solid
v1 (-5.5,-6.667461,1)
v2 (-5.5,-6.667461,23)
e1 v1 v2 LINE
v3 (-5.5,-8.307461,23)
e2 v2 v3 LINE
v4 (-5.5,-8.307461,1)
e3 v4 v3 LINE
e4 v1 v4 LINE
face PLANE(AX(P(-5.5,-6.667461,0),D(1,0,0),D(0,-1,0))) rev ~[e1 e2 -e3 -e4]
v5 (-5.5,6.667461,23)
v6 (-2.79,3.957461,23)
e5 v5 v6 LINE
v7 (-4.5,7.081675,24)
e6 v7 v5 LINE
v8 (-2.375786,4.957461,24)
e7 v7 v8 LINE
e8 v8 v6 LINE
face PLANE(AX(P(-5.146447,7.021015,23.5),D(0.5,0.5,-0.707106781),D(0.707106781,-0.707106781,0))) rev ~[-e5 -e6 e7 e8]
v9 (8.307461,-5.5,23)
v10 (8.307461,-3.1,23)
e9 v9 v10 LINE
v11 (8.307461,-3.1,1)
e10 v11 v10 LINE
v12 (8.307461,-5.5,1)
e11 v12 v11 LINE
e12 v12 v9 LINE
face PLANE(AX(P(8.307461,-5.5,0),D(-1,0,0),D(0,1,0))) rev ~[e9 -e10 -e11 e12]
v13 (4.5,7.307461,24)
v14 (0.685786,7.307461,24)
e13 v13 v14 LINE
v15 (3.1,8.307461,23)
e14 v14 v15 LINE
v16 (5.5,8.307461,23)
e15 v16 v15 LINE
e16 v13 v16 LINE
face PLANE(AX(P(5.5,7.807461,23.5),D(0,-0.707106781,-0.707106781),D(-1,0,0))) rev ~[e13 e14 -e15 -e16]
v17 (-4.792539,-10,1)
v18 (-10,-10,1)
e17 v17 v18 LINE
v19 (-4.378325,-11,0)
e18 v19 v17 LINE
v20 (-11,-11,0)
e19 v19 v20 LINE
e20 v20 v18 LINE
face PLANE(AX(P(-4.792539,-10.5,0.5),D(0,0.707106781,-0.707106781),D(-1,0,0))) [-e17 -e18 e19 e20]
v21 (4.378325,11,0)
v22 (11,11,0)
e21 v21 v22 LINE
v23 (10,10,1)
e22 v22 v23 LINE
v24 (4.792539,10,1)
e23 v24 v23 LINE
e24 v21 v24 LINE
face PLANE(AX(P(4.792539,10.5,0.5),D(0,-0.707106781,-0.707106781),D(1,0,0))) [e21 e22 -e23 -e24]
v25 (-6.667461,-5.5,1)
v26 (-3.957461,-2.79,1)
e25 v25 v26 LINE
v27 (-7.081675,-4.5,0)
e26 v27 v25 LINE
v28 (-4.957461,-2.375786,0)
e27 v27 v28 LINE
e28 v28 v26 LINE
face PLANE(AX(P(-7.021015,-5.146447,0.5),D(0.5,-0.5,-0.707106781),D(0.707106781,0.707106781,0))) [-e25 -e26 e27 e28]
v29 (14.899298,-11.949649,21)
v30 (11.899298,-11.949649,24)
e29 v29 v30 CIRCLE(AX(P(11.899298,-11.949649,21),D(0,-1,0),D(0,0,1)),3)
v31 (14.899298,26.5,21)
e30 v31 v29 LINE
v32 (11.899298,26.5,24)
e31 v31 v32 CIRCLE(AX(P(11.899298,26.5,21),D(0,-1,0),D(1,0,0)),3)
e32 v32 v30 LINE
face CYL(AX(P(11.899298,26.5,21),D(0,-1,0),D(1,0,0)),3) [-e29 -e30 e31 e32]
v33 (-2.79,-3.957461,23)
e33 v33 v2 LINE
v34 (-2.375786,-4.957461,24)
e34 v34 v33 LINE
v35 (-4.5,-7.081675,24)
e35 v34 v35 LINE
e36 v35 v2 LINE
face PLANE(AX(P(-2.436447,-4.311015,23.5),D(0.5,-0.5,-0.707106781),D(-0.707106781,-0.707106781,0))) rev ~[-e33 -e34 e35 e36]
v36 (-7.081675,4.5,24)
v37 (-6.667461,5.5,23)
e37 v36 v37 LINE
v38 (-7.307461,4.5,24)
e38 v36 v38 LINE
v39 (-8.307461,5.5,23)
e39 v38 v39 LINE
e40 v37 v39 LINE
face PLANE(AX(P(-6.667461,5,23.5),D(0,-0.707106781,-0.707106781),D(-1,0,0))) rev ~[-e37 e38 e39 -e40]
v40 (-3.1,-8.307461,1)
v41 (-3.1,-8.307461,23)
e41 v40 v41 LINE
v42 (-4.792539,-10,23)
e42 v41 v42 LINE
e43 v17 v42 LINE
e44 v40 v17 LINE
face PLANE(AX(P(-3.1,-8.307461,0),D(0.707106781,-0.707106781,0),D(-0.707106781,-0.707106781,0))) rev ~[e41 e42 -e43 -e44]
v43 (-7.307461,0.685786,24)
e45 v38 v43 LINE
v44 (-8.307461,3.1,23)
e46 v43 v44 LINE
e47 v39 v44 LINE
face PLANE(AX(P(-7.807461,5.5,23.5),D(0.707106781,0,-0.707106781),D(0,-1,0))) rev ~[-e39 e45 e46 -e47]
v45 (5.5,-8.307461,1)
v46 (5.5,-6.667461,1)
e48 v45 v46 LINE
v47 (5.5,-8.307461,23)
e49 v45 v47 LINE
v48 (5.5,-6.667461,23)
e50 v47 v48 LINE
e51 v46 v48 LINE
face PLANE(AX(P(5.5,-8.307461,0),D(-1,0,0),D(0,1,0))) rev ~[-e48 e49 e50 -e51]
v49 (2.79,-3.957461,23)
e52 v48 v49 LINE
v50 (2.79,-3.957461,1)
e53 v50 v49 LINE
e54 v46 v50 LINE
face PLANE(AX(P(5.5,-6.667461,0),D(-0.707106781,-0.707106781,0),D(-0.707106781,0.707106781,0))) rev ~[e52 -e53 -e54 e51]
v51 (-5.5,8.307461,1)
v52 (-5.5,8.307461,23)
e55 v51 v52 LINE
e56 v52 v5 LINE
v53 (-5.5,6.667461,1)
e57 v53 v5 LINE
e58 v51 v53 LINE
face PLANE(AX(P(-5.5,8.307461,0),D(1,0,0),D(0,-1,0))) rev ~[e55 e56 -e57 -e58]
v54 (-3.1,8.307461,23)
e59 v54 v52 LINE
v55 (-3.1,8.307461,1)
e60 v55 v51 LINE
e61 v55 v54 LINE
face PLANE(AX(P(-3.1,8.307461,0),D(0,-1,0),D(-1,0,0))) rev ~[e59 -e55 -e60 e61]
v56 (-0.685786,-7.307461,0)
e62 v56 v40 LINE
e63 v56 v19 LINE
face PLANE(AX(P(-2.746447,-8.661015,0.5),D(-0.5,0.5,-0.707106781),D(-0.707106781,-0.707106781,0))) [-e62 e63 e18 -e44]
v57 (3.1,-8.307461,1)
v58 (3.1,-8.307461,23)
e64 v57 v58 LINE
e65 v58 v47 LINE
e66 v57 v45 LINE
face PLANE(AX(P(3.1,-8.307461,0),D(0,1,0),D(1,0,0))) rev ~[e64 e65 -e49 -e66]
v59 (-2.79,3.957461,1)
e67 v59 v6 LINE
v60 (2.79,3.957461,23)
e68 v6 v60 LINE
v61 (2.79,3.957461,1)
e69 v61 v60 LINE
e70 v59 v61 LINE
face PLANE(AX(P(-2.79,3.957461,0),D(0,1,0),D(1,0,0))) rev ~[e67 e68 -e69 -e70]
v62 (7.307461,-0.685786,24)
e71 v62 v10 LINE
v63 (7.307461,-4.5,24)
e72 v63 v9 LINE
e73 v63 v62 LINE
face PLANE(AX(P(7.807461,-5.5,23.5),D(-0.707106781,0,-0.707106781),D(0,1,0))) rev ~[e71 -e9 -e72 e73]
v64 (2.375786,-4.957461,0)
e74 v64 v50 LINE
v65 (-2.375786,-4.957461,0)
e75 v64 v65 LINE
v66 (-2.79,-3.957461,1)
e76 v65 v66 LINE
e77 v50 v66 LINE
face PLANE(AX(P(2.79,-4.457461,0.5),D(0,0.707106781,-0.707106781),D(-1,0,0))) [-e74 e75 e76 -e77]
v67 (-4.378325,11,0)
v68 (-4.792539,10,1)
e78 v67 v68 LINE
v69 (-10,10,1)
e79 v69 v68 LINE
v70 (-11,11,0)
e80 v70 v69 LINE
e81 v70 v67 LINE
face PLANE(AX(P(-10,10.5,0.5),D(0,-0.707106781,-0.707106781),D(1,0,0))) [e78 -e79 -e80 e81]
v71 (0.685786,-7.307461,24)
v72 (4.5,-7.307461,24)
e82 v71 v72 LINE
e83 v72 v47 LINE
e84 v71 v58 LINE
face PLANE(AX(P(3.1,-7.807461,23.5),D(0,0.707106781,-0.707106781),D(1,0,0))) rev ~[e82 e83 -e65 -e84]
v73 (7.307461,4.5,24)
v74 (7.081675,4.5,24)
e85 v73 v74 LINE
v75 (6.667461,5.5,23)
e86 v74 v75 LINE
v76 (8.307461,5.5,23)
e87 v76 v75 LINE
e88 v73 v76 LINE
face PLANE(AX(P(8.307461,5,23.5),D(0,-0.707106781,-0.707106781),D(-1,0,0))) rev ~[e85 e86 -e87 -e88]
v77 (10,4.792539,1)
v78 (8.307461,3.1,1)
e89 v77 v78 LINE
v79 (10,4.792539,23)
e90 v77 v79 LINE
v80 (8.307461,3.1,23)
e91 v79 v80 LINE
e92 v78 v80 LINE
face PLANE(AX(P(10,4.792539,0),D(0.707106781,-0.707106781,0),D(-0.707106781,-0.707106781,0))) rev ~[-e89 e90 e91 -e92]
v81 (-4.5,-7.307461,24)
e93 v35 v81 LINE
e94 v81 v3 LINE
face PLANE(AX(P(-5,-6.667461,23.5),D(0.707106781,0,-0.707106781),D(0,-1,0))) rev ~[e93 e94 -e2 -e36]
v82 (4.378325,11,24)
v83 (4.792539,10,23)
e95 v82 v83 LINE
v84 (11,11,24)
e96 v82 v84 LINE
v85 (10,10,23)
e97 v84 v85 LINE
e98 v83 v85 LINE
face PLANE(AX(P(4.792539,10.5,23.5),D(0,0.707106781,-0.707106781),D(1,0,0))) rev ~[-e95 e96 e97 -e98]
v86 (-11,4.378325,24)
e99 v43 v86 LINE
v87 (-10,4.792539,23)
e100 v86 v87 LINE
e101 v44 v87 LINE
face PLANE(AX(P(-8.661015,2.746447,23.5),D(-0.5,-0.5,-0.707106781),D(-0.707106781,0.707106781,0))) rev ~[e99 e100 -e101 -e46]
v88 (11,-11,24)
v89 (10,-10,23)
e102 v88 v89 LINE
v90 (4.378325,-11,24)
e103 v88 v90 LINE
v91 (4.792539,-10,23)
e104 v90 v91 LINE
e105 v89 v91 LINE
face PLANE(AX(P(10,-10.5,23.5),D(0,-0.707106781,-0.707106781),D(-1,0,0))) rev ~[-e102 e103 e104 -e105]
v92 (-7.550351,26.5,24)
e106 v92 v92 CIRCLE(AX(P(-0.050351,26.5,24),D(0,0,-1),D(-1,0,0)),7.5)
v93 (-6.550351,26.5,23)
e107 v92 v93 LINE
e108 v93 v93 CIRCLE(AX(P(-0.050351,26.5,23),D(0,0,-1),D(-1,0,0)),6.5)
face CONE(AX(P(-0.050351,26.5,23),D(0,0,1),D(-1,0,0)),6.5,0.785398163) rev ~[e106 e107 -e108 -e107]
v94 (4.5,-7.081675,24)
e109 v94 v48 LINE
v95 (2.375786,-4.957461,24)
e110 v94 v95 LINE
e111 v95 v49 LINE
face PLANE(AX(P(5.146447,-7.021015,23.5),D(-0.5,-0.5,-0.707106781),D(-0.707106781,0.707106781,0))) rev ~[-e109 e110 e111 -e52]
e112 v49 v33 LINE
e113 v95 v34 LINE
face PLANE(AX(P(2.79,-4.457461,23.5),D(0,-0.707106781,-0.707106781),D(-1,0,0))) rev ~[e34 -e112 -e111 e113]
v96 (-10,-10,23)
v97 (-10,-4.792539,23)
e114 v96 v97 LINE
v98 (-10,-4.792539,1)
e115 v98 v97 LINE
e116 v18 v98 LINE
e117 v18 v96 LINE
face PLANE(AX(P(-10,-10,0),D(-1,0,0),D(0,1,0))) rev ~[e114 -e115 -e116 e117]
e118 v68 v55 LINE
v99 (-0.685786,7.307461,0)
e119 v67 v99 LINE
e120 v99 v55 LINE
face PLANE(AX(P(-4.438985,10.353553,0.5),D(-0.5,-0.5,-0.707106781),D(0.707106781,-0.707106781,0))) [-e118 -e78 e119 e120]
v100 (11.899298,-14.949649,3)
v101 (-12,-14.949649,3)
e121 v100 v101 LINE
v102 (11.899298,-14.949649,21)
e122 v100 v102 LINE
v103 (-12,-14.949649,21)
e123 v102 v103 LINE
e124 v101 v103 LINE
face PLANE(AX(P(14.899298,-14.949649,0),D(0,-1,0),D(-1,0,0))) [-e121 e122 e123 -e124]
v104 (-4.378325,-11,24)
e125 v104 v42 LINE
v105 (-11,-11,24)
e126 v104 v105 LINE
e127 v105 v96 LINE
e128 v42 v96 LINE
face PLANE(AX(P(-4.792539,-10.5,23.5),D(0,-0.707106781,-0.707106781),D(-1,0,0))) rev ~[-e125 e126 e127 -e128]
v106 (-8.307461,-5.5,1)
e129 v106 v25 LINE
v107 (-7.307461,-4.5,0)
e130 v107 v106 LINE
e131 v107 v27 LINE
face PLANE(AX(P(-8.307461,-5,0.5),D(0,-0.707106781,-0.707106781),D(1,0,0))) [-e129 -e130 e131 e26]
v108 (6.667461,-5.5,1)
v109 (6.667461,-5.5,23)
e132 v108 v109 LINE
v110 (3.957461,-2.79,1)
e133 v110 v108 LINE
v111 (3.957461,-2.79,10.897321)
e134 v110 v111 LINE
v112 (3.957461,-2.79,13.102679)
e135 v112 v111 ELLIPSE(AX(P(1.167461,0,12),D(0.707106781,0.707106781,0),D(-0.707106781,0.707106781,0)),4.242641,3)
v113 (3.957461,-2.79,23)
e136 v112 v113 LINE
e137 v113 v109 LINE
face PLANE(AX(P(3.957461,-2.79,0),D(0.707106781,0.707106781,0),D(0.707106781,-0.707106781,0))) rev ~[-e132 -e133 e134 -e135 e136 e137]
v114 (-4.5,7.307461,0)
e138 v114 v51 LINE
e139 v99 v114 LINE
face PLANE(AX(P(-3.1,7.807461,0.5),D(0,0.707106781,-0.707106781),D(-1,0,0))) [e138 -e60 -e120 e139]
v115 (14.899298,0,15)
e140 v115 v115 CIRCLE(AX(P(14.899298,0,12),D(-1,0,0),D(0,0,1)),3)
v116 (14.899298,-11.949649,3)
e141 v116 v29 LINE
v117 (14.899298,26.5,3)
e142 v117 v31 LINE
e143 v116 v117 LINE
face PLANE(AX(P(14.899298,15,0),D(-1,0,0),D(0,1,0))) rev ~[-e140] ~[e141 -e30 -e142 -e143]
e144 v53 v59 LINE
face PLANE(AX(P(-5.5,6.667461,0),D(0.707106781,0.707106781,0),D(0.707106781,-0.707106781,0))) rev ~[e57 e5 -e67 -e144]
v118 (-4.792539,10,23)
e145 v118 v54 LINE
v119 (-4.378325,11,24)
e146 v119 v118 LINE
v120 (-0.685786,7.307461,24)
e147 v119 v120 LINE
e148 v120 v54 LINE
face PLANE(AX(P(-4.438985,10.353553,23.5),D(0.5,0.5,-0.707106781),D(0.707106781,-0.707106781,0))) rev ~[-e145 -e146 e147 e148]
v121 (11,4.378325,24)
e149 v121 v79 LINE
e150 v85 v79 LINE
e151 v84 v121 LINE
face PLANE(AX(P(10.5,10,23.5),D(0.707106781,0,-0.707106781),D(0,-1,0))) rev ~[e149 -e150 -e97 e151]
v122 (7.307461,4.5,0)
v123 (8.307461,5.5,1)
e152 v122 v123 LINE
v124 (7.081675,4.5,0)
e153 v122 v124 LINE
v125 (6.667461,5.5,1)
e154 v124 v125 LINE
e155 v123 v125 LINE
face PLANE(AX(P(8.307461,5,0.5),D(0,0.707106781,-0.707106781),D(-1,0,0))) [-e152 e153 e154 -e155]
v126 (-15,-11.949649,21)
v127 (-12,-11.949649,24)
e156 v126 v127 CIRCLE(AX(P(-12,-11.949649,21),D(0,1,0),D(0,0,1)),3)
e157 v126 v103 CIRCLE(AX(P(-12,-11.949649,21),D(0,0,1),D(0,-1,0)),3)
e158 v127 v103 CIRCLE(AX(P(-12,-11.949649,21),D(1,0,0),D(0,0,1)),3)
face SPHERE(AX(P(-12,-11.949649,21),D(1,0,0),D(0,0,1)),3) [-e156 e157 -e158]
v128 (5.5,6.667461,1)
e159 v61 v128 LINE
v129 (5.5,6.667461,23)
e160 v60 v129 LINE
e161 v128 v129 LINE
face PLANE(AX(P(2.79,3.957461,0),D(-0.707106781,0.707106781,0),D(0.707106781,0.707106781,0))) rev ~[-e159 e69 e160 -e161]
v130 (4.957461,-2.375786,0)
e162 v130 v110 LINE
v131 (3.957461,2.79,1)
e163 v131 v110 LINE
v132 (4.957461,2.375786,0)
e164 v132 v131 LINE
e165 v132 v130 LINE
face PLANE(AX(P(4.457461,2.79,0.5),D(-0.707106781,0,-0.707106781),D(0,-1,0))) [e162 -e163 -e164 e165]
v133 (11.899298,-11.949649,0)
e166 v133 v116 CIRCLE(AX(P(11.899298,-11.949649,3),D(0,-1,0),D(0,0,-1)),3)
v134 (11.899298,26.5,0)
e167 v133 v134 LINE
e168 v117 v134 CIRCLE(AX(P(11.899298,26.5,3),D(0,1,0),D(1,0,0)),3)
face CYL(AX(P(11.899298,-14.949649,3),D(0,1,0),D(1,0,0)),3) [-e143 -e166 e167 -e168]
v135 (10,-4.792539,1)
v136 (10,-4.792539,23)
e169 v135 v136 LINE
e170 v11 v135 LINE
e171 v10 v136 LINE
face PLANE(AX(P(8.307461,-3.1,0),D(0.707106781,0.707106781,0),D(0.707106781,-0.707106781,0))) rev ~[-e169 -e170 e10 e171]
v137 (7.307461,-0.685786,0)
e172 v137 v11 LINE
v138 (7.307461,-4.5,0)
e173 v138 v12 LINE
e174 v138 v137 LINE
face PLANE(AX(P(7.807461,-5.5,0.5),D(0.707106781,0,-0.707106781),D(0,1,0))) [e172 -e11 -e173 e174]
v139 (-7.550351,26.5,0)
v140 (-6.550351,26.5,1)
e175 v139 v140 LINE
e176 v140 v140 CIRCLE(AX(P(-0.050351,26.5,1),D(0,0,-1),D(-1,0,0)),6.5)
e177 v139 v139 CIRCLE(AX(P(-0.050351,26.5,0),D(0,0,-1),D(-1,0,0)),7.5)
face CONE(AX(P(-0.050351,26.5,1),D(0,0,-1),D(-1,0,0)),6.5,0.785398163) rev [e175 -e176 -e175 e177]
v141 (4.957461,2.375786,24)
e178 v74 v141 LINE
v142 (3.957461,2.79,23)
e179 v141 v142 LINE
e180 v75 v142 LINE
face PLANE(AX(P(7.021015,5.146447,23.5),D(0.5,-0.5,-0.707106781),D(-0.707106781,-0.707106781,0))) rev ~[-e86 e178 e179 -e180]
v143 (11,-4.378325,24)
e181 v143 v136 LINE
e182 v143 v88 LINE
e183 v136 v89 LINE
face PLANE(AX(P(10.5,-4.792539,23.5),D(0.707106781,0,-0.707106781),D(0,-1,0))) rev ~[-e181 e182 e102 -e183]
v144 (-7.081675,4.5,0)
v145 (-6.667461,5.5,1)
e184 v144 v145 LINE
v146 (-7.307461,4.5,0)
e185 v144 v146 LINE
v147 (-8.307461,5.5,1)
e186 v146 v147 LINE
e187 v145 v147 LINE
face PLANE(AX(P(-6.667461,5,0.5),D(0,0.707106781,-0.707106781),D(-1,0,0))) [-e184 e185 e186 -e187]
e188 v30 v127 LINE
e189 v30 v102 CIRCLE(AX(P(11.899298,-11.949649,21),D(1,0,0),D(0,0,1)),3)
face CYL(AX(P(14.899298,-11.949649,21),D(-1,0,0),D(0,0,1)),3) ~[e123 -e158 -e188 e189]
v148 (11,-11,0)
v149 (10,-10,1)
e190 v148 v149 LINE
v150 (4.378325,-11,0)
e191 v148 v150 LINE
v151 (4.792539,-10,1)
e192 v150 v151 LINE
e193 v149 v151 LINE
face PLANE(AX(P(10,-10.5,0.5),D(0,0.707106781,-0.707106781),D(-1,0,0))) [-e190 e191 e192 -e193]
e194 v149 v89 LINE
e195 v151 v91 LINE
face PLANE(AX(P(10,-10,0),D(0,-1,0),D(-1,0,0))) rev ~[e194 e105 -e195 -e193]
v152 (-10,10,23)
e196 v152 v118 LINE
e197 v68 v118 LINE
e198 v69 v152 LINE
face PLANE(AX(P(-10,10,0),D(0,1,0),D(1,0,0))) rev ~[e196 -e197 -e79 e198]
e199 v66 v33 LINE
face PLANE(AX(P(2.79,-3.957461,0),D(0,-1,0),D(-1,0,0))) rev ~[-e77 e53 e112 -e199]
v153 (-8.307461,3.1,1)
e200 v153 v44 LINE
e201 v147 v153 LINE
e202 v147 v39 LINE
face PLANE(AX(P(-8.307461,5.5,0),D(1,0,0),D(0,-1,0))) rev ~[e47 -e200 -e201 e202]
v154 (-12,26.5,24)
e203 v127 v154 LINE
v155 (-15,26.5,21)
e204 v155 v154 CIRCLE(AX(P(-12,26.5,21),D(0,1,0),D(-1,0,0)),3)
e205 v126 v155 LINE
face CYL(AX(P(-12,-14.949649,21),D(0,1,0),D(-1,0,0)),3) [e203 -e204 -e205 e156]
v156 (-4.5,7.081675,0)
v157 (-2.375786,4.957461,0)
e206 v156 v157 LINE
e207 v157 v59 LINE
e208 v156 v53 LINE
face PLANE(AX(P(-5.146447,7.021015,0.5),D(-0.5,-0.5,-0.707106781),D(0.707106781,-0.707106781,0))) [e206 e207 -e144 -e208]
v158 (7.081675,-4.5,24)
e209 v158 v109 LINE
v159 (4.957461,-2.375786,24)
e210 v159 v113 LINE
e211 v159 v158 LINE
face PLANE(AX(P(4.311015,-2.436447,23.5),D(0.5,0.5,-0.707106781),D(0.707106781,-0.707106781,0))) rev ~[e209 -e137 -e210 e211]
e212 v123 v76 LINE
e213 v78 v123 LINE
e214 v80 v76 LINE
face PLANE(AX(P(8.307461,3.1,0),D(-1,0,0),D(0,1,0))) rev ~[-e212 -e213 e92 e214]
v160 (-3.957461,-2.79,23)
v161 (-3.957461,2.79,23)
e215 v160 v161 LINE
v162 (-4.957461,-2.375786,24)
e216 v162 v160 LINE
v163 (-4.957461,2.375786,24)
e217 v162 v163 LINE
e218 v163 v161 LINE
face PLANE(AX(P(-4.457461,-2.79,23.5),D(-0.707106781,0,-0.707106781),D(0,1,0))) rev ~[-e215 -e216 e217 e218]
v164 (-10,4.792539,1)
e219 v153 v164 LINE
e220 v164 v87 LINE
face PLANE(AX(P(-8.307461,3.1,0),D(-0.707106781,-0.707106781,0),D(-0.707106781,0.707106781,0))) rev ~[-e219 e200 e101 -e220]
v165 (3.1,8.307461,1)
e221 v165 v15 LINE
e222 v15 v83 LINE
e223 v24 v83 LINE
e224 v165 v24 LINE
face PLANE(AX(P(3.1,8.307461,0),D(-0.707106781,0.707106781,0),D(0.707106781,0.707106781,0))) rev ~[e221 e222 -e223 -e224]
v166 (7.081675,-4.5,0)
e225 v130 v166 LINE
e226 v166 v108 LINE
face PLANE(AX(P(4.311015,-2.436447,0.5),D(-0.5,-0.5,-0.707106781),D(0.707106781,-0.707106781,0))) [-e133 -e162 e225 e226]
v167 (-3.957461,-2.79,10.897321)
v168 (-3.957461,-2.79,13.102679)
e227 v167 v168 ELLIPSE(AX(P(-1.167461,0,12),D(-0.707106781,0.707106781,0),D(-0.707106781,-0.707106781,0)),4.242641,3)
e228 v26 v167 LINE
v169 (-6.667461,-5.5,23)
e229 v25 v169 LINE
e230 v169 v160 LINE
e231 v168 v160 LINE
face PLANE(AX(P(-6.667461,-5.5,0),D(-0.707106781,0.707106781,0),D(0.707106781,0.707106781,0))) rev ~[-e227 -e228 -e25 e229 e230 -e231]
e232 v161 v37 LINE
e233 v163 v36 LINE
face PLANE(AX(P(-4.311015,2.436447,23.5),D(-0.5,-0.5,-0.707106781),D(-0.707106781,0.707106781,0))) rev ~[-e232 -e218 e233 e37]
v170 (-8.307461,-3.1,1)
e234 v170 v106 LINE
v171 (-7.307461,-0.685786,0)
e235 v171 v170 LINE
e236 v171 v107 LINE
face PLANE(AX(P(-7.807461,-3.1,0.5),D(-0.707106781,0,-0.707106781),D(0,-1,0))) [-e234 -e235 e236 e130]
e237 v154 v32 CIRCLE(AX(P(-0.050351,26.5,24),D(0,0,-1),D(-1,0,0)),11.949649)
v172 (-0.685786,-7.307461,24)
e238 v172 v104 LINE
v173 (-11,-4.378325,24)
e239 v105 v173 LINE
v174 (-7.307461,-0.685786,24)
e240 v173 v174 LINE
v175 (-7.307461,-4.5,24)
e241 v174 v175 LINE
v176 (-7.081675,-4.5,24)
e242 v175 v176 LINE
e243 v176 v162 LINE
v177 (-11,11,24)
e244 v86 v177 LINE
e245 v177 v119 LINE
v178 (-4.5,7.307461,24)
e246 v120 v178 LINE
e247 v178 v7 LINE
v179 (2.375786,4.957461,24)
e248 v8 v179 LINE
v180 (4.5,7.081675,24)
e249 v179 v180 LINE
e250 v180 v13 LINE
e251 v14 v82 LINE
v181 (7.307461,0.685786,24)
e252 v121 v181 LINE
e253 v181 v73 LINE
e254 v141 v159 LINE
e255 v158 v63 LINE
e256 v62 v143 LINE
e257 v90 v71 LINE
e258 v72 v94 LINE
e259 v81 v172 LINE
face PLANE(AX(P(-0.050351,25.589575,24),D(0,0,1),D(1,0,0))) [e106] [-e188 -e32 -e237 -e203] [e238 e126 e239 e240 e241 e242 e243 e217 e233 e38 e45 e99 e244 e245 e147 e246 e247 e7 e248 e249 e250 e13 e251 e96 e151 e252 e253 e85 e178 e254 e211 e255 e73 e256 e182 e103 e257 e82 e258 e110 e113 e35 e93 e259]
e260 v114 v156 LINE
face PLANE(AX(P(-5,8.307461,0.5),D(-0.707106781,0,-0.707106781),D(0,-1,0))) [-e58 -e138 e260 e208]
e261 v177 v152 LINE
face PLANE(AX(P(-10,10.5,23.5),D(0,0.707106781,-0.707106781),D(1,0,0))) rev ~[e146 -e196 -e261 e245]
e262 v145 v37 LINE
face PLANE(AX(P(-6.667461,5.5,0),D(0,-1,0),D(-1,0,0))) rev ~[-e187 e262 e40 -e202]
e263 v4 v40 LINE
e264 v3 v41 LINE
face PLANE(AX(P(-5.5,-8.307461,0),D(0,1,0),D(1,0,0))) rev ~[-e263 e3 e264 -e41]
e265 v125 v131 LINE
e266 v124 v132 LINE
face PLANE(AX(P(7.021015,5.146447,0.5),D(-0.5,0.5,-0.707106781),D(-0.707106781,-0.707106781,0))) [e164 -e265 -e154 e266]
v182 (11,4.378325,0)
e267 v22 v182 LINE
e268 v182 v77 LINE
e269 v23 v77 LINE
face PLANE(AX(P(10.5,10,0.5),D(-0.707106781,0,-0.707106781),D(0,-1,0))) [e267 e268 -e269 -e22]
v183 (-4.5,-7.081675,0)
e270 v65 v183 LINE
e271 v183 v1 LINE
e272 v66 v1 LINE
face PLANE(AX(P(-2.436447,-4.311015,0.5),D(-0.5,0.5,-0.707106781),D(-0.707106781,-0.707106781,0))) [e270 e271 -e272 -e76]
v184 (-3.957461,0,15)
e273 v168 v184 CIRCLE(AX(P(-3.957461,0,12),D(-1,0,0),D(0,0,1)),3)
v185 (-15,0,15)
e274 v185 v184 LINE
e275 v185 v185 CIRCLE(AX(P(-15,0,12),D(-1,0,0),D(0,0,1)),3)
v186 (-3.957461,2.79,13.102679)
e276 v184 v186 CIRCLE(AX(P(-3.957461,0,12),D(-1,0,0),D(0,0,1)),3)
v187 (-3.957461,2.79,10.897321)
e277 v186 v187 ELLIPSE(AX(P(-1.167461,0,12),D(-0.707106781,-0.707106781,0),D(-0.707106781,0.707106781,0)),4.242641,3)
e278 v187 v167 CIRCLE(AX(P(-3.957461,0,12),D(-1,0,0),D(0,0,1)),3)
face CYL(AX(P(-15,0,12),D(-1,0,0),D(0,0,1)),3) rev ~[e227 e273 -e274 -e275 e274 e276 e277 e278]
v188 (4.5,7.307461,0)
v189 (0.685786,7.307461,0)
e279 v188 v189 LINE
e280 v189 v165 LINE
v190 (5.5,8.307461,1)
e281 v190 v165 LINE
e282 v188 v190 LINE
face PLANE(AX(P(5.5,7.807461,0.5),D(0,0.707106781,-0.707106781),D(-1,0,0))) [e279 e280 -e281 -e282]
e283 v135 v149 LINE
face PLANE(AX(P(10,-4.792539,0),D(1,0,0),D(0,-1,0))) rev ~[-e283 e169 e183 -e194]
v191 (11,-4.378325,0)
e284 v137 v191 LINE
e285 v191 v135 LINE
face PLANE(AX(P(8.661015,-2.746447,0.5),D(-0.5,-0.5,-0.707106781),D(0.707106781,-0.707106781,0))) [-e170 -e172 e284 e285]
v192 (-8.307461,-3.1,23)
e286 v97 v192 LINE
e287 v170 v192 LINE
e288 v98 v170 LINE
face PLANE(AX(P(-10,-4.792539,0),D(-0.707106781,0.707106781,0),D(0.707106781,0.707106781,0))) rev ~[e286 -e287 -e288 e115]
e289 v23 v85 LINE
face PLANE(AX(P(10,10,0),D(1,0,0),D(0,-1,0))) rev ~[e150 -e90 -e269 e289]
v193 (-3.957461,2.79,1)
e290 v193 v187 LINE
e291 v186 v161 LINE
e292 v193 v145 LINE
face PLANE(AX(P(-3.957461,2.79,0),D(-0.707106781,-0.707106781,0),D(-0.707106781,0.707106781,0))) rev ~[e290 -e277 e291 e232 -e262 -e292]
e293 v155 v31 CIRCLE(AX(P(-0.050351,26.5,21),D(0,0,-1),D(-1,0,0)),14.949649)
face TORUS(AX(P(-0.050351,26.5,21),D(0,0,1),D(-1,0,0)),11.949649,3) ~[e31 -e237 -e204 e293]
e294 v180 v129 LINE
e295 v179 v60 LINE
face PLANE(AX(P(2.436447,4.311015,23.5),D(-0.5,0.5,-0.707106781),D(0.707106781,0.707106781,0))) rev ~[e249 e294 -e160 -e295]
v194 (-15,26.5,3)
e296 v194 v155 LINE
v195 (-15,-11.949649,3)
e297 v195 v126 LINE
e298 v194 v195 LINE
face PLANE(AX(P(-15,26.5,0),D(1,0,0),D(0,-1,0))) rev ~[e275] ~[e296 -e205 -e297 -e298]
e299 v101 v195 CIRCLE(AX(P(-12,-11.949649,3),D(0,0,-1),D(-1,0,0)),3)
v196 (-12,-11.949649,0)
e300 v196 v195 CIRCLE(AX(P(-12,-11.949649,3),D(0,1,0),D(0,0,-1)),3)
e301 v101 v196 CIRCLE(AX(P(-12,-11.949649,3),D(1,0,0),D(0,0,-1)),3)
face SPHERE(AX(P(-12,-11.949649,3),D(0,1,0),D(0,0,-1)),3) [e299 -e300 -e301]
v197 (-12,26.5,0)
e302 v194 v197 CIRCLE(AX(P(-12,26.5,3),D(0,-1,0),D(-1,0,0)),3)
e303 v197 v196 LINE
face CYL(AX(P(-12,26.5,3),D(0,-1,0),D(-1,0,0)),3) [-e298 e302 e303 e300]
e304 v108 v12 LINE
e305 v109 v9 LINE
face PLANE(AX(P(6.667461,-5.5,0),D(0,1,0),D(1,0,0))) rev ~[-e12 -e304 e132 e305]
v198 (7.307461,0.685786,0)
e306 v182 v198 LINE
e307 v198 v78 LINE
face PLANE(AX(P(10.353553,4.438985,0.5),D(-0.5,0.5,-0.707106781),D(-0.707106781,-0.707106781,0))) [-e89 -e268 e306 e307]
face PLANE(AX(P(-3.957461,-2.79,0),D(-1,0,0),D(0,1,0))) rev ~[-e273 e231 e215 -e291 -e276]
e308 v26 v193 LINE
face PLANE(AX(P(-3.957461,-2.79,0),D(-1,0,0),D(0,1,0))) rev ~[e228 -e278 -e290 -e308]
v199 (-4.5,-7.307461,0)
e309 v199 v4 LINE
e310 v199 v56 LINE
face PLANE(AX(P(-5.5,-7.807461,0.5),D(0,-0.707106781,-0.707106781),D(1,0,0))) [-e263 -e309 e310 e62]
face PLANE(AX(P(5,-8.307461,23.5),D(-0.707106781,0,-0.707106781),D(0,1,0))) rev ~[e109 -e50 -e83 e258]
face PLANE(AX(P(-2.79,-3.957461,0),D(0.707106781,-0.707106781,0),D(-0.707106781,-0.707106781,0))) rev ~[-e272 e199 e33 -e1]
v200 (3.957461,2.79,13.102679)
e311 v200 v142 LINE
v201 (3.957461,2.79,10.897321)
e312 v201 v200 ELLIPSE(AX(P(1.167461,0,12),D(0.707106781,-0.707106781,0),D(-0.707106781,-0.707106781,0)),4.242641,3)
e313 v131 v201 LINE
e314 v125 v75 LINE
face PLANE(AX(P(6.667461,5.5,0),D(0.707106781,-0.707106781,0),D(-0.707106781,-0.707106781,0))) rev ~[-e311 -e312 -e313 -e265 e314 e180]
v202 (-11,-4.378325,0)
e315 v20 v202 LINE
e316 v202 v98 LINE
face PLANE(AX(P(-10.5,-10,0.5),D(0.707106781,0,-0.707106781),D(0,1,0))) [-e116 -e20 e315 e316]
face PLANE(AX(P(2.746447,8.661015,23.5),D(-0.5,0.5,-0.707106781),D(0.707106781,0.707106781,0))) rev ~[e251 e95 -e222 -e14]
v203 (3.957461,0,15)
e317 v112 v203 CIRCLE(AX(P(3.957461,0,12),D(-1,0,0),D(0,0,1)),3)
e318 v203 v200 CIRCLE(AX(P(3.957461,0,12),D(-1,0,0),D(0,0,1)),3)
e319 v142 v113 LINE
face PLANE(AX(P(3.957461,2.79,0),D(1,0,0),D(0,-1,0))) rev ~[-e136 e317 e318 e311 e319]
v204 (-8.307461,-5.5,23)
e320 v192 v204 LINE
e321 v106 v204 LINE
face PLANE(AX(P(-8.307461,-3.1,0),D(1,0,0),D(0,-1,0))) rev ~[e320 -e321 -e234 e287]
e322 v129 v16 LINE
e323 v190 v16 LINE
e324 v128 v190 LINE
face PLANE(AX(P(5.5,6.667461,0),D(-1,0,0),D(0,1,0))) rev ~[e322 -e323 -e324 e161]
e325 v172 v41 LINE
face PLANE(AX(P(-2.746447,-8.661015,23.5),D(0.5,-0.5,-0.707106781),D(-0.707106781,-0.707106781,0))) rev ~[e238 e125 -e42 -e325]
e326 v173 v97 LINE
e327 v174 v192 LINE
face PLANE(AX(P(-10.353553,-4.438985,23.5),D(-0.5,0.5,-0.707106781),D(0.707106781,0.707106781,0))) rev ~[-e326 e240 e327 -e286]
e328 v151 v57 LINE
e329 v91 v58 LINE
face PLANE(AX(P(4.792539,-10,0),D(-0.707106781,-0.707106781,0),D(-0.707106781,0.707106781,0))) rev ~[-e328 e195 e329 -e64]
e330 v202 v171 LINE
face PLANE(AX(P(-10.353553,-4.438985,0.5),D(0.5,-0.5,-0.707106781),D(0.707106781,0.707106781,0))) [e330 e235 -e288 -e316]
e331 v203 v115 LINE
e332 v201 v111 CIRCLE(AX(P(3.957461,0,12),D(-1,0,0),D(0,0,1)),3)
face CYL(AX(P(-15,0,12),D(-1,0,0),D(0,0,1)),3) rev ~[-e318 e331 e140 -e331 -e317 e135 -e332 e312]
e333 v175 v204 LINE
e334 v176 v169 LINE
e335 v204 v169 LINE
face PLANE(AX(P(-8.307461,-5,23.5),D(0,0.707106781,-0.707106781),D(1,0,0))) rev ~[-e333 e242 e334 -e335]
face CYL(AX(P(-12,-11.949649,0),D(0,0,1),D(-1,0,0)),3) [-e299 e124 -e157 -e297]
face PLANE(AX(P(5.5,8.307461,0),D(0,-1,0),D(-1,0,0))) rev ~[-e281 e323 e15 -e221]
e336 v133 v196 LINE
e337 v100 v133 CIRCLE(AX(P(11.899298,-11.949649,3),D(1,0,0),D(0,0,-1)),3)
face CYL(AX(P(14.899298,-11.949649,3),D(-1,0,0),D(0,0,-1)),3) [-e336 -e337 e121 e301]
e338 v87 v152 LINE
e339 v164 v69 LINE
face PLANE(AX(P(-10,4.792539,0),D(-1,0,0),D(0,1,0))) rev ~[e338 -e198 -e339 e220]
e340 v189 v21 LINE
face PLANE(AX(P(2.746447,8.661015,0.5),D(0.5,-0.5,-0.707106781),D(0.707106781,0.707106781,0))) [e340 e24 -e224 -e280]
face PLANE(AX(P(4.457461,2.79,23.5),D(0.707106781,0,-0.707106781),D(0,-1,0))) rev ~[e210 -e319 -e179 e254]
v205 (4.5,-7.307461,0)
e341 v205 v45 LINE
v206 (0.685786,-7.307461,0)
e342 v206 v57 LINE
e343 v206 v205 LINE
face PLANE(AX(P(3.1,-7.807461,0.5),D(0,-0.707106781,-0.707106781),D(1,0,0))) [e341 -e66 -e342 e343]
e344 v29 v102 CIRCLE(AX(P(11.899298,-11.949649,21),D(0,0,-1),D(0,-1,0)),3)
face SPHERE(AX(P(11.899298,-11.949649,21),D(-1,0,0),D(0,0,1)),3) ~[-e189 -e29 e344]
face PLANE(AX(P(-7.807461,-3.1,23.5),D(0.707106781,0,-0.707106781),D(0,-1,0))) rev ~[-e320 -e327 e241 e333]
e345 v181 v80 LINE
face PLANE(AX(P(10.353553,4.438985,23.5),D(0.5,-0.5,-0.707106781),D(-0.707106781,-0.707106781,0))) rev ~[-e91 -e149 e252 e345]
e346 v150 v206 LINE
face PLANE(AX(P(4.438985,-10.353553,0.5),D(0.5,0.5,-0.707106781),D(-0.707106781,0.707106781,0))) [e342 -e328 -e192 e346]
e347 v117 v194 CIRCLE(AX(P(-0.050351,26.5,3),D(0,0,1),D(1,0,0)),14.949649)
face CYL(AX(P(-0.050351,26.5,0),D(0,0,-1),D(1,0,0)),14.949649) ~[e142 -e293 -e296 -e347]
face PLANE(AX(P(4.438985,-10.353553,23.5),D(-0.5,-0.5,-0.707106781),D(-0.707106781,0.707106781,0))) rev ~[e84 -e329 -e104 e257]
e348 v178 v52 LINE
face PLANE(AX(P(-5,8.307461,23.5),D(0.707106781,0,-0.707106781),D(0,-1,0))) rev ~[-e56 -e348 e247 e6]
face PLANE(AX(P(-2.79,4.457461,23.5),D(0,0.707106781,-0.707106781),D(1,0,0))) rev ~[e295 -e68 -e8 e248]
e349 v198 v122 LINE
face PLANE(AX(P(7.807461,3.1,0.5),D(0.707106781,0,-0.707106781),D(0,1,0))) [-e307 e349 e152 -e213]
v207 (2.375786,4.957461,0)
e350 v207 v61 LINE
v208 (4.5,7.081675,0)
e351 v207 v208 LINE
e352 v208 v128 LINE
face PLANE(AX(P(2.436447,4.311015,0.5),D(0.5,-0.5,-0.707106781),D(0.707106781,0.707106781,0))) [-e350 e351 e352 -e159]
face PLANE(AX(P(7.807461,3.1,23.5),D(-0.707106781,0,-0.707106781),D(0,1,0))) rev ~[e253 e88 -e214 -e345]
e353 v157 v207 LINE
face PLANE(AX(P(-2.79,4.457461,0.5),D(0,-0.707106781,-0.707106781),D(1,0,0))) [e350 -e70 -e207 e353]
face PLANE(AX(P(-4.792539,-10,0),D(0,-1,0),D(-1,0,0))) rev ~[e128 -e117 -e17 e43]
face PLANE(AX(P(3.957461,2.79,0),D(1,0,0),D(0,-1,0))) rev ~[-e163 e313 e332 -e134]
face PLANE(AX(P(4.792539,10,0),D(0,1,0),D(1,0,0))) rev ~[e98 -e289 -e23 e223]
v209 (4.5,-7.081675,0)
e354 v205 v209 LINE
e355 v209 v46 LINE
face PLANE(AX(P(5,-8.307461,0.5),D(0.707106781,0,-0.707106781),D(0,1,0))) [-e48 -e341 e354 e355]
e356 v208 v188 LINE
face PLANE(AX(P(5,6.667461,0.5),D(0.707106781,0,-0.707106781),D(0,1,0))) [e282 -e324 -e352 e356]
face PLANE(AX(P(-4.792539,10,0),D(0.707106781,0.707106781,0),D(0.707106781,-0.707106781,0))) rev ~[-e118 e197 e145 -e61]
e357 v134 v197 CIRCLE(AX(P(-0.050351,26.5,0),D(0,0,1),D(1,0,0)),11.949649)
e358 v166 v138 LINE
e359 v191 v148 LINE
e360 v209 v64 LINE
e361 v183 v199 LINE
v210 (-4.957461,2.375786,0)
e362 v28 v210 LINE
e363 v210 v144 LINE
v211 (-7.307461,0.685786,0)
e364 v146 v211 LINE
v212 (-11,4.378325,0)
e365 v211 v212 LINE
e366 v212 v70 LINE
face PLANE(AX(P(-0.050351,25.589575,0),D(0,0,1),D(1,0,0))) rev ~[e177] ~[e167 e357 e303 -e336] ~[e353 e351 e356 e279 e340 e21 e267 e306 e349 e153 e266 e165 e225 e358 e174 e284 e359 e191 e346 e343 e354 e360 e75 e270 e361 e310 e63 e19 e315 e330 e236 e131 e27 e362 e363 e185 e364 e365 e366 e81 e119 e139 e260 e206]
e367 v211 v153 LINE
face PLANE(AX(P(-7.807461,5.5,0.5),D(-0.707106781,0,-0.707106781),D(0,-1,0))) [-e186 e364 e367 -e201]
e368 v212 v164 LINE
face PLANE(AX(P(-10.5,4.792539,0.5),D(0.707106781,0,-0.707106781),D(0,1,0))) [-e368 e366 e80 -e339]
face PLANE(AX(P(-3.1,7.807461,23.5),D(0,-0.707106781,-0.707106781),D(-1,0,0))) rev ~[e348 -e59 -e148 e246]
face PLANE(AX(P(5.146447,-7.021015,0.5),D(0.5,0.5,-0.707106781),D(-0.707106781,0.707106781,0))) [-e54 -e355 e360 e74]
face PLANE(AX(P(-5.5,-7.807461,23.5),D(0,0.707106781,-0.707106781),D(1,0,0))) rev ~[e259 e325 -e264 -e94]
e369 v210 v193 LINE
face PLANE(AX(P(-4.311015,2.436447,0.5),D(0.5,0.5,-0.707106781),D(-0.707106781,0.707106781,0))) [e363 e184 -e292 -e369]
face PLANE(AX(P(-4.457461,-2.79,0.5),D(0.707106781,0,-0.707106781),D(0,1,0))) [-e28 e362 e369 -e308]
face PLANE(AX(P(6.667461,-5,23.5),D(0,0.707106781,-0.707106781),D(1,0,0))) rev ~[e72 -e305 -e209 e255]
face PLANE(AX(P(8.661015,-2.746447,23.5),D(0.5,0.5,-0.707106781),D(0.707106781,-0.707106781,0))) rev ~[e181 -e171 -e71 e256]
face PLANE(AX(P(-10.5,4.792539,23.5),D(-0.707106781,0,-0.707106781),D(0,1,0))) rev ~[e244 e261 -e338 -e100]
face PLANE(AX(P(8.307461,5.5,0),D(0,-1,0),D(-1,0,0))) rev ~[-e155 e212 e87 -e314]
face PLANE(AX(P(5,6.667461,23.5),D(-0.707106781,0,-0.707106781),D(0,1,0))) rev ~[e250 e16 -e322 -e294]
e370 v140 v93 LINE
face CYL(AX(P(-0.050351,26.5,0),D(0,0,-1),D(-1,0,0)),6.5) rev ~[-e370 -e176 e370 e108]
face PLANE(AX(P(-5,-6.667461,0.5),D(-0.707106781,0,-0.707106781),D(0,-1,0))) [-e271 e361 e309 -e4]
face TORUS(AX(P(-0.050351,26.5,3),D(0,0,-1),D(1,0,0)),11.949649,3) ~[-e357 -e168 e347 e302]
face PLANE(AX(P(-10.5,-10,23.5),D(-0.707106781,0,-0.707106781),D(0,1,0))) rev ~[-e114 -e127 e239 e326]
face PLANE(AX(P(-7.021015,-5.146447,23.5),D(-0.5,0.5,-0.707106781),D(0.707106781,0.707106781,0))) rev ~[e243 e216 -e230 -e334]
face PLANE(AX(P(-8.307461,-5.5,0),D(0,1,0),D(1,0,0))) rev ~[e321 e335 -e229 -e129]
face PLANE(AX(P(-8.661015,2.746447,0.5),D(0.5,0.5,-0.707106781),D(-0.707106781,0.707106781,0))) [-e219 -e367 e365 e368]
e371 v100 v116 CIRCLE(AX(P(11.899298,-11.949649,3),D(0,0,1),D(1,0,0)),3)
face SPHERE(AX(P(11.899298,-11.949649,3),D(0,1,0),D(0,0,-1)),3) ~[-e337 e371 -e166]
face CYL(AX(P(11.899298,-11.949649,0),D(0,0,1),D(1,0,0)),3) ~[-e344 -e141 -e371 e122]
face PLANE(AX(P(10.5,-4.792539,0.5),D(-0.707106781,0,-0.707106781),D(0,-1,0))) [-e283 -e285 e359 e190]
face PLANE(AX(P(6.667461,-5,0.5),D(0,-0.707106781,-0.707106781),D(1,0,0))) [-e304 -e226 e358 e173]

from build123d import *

# Parameters (mm, degrees)
BOSS_EXTRUDE1_DEPTH = 24
SKETCH4_R           = 6.5
BOSS_EXTRUDE2_DEPTH = 24
SKETCH3_R           = 3
CUT_EXTRUDE1_DEPTH  = 30.899298428
FILLET1_R           = 3
CHAMFER1_SIZE       = 1


with BuildPart() as part:
    # Sketch1 → Boss-Extrude1 (new body)
    with BuildSketch(Plane.XY):
        Polygon((0, 15), (14.899298428, 15), (14.899298428, -14.949649214), (-15, -14.949649214), (-15, 15), align=None)
        Polygon((-10, 10), (-4.792538857, 10), (-3.1, 8.307461143), (-5.5, 8.307461143), (-5.5, 6.667461143), (-2.79, 3.957461143), (2.79, 3.957461143), (5.5, 6.667461143), (5.5, 8.307461143), (3.1, 8.307461143), (4.792538857, 10), (10, 10), (10, 4.792538857), (8.307461143, 3.1), (8.307461143, 5.5), (6.667461143, 5.5), (3.957461143, 2.79), (3.957461143, -2.79), (6.667461143, -5.5), (8.307461143, -5.5), (8.307461143, -3.1), (10, -4.792538857), (10, -10), (4.792538857, -10), (3.1, -8.307461143), (5.5, -8.307461143), (5.5, -6.667461143), (2.79, -3.957461143), (-2.79, -3.957461143), (-5.5, -6.667461143), (-5.5, -8.307461143), (-3.1, -8.307461143), (-4.792538857, -10), (-10, -10), (-10, -4.792538857), (-8.307461143, -3.1), (-8.307461143, -5.5), (-6.667461143, -5.5), (-3.957461143, -2.79), (-3.957461143, 2.79), (-6.667461143, 5.5), (-8.307461143, 5.5), (-8.307461143, 3.1), (-10, 4.792538857), align=None, mode=Mode.SUBTRACT)
    extrude(amount=BOSS_EXTRUDE1_DEPTH)

    # Sketch4 → Boss-Extrude2 (add)
    with BuildSketch(Plane(origin=(0, 0, 0), x_dir=(-1, 0, 0), z_dir=(0, 0, -1))):
        with BuildLine():
            ThreePointArc((-14.899298428, 26.5), (0.050350786, 41.449649214), (15, 26.5))
            Line((15, 26.5), (15, 15))
            Line((15, 15), (-14.899298428, 15))
            Line((-14.899298428, 15), (-14.899298428, 26.5))
        make_face()
        with Locations((0.050350786, 26.5)):
            Circle(SKETCH4_R, mode=Mode.SUBTRACT)
    extrude(amount=-BOSS_EXTRUDE2_DEPTH)

    # Sketch3 → Cut-Extrude1 (cut, through all)
    with BuildSketch(Plane.ZY.offset(15)):
        with Locations((12, 0)):
            Circle(SKETCH3_R)
    extrude(amount=-CUT_EXTRUDE1_DEPTH, mode=Mode.SUBTRACT)

    # Fillet1
    fillet1_edges = [part.edges().sort_by_distance(p)[0] for p in [
        (-0.050350786, -14.949649214, 24),
        (14.899298428, 5.775175393, 24),
        (-0.050350786, 41.449649214, 24),
        (-0.050350786, 41.449649214, 0),
        (14.899298428, 5.775175393, 0),
        (-0.050350786, -14.949649214, 0),
        (-15, 5.775175393, 0),
        (-15, 5.775175393, 24),
        (14.899298428, -14.949649214, 12),
        (-15, -14.949649214, 12),
    ]]
    fillet(fillet1_edges, radius=FILLET1_R)

    # Chamfer1
    chamfer1_edges = [part.edges().sort_by_distance(p)[0] for p in [
        (6.449649214, 26.5, 24),
        (6.449649214, 26.5, 0),
        (-4.3, 8.307461143, 0),
        (-3.946269429, 9.153730571, 0),
        (-7.396269429, 10, 0),
        (-10, 7.396269429, 0),
        (-9.153730571, 3.946269429, 0),
        (-8.307461143, 4.3, 0),
        (-7.487461143, 5.5, 0),
        (-5.312461143, 4.145, 0),
        (-3.957461143, 0, 0),
        (-5.312461143, -4.145, 0),
        (-7.487461143, -5.5, 0),
        (-8.307461143, -4.3, 0),
        (-9.153730571, -3.946269429, 0),
        (-10, -7.396269429, 0),
        (-7.396269429, -10, 0),
        (-3.946269429, -9.153730571, 0),
        (-4.3, -8.307461143, 0),
        (-5.5, -7.487461143, 0),
        (-4.145, -5.312461143, 0),
        (0, -3.957461143, 0),
        (4.145, -5.312461143, 0),
        (5.5, -7.487461143, 0),
        (4.3, -8.307461143, 0),
        (3.946269429, -9.153730571, 0),
        (7.396269429, -10, 0),
        (10, -7.396269429, 0),
        (9.153730571, -3.946269429, 0),
        (8.307461143, -4.3, 0),
        (7.487461143, -5.5, 0),
        (5.312461143, -4.145, 0),
        (3.957461143, 0, 0),
        (5.312461143, 4.145, 0),
        (7.487461143, 5.5, 0),
        (8.307461143, 4.3, 0),
        (9.153730571, 3.946269429, 0),
        (10, 7.396269429, 0),
        (7.396269429, 10, 0),
        (3.946269429, 9.153730571, 0),
        (4.3, 8.307461143, 0),
        (5.5, 7.487461143, 0),
        (4.145, 5.312461143, 0),
        (0, 3.957461143, 0),
        (-4.145, 5.312461143, 0),
        (-5.5, 7.487461143, 0),
        (-4.3, 8.307461143, 24),
        (-3.946269429, 9.153730571, 24),
        (-7.396269429, 10, 24),
        (-10, 7.396269429, 24),
        (-9.153730571, 3.946269429, 24),
        (-8.307461143, 4.3, 24),
        (-7.487461143, 5.5, 24),
        (-5.312461143, 4.145, 24),
        (-3.957461143, 0, 24),
        (-5.312461143, -4.145, 24),
        (-7.487461143, -5.5, 24),
        (-8.307461143, -4.3, 24),
        (-9.153730571, -3.946269429, 24),
        (-10, -7.396269429, 24),
        (-7.396269429, -10, 24),
        (-3.946269429, -9.153730571, 24),
        (-4.3, -8.307461143, 24),
        (-5.5, -7.487461143, 24),
        (-4.145, -5.312461143, 24),
        (0, -3.957461143, 24),
        (4.145, -5.312461143, 24),
        (5.5, -7.487461143, 24),
        (4.3, -8.307461143, 24),
        (3.946269429, -9.153730571, 24),
        (7.396269429, -10, 24),
        (10, -7.396269429, 24),
        (9.153730571, -3.946269429, 24),
        (8.307461143, -4.3, 24),
        (7.487461143, -5.5, 24),
        (5.312461143, -4.145, 24),
        (3.957461143, 0, 24),
        (5.312461143, 4.145, 24),
        (7.487461143, 5.5, 24),
        (8.307461143, 4.3, 24),
        (9.153730571, 3.946269429, 24),
        (10, 7.396269429, 24),
        (7.396269429, 10, 24),
        (3.946269429, 9.153730571, 24),
        (4.3, 8.307461143, 24),
        (5.5, 7.487461143, 24),
        (4.145, 5.312461143, 24),
        (0, 3.957461143, 24),
        (-4.145, 5.312461143, 24),
        (-5.5, 7.487461143, 24),
    ]]
    chamfer(chamfer1_edges, length=CHAMFER1_SIZE)


solid = part.part
